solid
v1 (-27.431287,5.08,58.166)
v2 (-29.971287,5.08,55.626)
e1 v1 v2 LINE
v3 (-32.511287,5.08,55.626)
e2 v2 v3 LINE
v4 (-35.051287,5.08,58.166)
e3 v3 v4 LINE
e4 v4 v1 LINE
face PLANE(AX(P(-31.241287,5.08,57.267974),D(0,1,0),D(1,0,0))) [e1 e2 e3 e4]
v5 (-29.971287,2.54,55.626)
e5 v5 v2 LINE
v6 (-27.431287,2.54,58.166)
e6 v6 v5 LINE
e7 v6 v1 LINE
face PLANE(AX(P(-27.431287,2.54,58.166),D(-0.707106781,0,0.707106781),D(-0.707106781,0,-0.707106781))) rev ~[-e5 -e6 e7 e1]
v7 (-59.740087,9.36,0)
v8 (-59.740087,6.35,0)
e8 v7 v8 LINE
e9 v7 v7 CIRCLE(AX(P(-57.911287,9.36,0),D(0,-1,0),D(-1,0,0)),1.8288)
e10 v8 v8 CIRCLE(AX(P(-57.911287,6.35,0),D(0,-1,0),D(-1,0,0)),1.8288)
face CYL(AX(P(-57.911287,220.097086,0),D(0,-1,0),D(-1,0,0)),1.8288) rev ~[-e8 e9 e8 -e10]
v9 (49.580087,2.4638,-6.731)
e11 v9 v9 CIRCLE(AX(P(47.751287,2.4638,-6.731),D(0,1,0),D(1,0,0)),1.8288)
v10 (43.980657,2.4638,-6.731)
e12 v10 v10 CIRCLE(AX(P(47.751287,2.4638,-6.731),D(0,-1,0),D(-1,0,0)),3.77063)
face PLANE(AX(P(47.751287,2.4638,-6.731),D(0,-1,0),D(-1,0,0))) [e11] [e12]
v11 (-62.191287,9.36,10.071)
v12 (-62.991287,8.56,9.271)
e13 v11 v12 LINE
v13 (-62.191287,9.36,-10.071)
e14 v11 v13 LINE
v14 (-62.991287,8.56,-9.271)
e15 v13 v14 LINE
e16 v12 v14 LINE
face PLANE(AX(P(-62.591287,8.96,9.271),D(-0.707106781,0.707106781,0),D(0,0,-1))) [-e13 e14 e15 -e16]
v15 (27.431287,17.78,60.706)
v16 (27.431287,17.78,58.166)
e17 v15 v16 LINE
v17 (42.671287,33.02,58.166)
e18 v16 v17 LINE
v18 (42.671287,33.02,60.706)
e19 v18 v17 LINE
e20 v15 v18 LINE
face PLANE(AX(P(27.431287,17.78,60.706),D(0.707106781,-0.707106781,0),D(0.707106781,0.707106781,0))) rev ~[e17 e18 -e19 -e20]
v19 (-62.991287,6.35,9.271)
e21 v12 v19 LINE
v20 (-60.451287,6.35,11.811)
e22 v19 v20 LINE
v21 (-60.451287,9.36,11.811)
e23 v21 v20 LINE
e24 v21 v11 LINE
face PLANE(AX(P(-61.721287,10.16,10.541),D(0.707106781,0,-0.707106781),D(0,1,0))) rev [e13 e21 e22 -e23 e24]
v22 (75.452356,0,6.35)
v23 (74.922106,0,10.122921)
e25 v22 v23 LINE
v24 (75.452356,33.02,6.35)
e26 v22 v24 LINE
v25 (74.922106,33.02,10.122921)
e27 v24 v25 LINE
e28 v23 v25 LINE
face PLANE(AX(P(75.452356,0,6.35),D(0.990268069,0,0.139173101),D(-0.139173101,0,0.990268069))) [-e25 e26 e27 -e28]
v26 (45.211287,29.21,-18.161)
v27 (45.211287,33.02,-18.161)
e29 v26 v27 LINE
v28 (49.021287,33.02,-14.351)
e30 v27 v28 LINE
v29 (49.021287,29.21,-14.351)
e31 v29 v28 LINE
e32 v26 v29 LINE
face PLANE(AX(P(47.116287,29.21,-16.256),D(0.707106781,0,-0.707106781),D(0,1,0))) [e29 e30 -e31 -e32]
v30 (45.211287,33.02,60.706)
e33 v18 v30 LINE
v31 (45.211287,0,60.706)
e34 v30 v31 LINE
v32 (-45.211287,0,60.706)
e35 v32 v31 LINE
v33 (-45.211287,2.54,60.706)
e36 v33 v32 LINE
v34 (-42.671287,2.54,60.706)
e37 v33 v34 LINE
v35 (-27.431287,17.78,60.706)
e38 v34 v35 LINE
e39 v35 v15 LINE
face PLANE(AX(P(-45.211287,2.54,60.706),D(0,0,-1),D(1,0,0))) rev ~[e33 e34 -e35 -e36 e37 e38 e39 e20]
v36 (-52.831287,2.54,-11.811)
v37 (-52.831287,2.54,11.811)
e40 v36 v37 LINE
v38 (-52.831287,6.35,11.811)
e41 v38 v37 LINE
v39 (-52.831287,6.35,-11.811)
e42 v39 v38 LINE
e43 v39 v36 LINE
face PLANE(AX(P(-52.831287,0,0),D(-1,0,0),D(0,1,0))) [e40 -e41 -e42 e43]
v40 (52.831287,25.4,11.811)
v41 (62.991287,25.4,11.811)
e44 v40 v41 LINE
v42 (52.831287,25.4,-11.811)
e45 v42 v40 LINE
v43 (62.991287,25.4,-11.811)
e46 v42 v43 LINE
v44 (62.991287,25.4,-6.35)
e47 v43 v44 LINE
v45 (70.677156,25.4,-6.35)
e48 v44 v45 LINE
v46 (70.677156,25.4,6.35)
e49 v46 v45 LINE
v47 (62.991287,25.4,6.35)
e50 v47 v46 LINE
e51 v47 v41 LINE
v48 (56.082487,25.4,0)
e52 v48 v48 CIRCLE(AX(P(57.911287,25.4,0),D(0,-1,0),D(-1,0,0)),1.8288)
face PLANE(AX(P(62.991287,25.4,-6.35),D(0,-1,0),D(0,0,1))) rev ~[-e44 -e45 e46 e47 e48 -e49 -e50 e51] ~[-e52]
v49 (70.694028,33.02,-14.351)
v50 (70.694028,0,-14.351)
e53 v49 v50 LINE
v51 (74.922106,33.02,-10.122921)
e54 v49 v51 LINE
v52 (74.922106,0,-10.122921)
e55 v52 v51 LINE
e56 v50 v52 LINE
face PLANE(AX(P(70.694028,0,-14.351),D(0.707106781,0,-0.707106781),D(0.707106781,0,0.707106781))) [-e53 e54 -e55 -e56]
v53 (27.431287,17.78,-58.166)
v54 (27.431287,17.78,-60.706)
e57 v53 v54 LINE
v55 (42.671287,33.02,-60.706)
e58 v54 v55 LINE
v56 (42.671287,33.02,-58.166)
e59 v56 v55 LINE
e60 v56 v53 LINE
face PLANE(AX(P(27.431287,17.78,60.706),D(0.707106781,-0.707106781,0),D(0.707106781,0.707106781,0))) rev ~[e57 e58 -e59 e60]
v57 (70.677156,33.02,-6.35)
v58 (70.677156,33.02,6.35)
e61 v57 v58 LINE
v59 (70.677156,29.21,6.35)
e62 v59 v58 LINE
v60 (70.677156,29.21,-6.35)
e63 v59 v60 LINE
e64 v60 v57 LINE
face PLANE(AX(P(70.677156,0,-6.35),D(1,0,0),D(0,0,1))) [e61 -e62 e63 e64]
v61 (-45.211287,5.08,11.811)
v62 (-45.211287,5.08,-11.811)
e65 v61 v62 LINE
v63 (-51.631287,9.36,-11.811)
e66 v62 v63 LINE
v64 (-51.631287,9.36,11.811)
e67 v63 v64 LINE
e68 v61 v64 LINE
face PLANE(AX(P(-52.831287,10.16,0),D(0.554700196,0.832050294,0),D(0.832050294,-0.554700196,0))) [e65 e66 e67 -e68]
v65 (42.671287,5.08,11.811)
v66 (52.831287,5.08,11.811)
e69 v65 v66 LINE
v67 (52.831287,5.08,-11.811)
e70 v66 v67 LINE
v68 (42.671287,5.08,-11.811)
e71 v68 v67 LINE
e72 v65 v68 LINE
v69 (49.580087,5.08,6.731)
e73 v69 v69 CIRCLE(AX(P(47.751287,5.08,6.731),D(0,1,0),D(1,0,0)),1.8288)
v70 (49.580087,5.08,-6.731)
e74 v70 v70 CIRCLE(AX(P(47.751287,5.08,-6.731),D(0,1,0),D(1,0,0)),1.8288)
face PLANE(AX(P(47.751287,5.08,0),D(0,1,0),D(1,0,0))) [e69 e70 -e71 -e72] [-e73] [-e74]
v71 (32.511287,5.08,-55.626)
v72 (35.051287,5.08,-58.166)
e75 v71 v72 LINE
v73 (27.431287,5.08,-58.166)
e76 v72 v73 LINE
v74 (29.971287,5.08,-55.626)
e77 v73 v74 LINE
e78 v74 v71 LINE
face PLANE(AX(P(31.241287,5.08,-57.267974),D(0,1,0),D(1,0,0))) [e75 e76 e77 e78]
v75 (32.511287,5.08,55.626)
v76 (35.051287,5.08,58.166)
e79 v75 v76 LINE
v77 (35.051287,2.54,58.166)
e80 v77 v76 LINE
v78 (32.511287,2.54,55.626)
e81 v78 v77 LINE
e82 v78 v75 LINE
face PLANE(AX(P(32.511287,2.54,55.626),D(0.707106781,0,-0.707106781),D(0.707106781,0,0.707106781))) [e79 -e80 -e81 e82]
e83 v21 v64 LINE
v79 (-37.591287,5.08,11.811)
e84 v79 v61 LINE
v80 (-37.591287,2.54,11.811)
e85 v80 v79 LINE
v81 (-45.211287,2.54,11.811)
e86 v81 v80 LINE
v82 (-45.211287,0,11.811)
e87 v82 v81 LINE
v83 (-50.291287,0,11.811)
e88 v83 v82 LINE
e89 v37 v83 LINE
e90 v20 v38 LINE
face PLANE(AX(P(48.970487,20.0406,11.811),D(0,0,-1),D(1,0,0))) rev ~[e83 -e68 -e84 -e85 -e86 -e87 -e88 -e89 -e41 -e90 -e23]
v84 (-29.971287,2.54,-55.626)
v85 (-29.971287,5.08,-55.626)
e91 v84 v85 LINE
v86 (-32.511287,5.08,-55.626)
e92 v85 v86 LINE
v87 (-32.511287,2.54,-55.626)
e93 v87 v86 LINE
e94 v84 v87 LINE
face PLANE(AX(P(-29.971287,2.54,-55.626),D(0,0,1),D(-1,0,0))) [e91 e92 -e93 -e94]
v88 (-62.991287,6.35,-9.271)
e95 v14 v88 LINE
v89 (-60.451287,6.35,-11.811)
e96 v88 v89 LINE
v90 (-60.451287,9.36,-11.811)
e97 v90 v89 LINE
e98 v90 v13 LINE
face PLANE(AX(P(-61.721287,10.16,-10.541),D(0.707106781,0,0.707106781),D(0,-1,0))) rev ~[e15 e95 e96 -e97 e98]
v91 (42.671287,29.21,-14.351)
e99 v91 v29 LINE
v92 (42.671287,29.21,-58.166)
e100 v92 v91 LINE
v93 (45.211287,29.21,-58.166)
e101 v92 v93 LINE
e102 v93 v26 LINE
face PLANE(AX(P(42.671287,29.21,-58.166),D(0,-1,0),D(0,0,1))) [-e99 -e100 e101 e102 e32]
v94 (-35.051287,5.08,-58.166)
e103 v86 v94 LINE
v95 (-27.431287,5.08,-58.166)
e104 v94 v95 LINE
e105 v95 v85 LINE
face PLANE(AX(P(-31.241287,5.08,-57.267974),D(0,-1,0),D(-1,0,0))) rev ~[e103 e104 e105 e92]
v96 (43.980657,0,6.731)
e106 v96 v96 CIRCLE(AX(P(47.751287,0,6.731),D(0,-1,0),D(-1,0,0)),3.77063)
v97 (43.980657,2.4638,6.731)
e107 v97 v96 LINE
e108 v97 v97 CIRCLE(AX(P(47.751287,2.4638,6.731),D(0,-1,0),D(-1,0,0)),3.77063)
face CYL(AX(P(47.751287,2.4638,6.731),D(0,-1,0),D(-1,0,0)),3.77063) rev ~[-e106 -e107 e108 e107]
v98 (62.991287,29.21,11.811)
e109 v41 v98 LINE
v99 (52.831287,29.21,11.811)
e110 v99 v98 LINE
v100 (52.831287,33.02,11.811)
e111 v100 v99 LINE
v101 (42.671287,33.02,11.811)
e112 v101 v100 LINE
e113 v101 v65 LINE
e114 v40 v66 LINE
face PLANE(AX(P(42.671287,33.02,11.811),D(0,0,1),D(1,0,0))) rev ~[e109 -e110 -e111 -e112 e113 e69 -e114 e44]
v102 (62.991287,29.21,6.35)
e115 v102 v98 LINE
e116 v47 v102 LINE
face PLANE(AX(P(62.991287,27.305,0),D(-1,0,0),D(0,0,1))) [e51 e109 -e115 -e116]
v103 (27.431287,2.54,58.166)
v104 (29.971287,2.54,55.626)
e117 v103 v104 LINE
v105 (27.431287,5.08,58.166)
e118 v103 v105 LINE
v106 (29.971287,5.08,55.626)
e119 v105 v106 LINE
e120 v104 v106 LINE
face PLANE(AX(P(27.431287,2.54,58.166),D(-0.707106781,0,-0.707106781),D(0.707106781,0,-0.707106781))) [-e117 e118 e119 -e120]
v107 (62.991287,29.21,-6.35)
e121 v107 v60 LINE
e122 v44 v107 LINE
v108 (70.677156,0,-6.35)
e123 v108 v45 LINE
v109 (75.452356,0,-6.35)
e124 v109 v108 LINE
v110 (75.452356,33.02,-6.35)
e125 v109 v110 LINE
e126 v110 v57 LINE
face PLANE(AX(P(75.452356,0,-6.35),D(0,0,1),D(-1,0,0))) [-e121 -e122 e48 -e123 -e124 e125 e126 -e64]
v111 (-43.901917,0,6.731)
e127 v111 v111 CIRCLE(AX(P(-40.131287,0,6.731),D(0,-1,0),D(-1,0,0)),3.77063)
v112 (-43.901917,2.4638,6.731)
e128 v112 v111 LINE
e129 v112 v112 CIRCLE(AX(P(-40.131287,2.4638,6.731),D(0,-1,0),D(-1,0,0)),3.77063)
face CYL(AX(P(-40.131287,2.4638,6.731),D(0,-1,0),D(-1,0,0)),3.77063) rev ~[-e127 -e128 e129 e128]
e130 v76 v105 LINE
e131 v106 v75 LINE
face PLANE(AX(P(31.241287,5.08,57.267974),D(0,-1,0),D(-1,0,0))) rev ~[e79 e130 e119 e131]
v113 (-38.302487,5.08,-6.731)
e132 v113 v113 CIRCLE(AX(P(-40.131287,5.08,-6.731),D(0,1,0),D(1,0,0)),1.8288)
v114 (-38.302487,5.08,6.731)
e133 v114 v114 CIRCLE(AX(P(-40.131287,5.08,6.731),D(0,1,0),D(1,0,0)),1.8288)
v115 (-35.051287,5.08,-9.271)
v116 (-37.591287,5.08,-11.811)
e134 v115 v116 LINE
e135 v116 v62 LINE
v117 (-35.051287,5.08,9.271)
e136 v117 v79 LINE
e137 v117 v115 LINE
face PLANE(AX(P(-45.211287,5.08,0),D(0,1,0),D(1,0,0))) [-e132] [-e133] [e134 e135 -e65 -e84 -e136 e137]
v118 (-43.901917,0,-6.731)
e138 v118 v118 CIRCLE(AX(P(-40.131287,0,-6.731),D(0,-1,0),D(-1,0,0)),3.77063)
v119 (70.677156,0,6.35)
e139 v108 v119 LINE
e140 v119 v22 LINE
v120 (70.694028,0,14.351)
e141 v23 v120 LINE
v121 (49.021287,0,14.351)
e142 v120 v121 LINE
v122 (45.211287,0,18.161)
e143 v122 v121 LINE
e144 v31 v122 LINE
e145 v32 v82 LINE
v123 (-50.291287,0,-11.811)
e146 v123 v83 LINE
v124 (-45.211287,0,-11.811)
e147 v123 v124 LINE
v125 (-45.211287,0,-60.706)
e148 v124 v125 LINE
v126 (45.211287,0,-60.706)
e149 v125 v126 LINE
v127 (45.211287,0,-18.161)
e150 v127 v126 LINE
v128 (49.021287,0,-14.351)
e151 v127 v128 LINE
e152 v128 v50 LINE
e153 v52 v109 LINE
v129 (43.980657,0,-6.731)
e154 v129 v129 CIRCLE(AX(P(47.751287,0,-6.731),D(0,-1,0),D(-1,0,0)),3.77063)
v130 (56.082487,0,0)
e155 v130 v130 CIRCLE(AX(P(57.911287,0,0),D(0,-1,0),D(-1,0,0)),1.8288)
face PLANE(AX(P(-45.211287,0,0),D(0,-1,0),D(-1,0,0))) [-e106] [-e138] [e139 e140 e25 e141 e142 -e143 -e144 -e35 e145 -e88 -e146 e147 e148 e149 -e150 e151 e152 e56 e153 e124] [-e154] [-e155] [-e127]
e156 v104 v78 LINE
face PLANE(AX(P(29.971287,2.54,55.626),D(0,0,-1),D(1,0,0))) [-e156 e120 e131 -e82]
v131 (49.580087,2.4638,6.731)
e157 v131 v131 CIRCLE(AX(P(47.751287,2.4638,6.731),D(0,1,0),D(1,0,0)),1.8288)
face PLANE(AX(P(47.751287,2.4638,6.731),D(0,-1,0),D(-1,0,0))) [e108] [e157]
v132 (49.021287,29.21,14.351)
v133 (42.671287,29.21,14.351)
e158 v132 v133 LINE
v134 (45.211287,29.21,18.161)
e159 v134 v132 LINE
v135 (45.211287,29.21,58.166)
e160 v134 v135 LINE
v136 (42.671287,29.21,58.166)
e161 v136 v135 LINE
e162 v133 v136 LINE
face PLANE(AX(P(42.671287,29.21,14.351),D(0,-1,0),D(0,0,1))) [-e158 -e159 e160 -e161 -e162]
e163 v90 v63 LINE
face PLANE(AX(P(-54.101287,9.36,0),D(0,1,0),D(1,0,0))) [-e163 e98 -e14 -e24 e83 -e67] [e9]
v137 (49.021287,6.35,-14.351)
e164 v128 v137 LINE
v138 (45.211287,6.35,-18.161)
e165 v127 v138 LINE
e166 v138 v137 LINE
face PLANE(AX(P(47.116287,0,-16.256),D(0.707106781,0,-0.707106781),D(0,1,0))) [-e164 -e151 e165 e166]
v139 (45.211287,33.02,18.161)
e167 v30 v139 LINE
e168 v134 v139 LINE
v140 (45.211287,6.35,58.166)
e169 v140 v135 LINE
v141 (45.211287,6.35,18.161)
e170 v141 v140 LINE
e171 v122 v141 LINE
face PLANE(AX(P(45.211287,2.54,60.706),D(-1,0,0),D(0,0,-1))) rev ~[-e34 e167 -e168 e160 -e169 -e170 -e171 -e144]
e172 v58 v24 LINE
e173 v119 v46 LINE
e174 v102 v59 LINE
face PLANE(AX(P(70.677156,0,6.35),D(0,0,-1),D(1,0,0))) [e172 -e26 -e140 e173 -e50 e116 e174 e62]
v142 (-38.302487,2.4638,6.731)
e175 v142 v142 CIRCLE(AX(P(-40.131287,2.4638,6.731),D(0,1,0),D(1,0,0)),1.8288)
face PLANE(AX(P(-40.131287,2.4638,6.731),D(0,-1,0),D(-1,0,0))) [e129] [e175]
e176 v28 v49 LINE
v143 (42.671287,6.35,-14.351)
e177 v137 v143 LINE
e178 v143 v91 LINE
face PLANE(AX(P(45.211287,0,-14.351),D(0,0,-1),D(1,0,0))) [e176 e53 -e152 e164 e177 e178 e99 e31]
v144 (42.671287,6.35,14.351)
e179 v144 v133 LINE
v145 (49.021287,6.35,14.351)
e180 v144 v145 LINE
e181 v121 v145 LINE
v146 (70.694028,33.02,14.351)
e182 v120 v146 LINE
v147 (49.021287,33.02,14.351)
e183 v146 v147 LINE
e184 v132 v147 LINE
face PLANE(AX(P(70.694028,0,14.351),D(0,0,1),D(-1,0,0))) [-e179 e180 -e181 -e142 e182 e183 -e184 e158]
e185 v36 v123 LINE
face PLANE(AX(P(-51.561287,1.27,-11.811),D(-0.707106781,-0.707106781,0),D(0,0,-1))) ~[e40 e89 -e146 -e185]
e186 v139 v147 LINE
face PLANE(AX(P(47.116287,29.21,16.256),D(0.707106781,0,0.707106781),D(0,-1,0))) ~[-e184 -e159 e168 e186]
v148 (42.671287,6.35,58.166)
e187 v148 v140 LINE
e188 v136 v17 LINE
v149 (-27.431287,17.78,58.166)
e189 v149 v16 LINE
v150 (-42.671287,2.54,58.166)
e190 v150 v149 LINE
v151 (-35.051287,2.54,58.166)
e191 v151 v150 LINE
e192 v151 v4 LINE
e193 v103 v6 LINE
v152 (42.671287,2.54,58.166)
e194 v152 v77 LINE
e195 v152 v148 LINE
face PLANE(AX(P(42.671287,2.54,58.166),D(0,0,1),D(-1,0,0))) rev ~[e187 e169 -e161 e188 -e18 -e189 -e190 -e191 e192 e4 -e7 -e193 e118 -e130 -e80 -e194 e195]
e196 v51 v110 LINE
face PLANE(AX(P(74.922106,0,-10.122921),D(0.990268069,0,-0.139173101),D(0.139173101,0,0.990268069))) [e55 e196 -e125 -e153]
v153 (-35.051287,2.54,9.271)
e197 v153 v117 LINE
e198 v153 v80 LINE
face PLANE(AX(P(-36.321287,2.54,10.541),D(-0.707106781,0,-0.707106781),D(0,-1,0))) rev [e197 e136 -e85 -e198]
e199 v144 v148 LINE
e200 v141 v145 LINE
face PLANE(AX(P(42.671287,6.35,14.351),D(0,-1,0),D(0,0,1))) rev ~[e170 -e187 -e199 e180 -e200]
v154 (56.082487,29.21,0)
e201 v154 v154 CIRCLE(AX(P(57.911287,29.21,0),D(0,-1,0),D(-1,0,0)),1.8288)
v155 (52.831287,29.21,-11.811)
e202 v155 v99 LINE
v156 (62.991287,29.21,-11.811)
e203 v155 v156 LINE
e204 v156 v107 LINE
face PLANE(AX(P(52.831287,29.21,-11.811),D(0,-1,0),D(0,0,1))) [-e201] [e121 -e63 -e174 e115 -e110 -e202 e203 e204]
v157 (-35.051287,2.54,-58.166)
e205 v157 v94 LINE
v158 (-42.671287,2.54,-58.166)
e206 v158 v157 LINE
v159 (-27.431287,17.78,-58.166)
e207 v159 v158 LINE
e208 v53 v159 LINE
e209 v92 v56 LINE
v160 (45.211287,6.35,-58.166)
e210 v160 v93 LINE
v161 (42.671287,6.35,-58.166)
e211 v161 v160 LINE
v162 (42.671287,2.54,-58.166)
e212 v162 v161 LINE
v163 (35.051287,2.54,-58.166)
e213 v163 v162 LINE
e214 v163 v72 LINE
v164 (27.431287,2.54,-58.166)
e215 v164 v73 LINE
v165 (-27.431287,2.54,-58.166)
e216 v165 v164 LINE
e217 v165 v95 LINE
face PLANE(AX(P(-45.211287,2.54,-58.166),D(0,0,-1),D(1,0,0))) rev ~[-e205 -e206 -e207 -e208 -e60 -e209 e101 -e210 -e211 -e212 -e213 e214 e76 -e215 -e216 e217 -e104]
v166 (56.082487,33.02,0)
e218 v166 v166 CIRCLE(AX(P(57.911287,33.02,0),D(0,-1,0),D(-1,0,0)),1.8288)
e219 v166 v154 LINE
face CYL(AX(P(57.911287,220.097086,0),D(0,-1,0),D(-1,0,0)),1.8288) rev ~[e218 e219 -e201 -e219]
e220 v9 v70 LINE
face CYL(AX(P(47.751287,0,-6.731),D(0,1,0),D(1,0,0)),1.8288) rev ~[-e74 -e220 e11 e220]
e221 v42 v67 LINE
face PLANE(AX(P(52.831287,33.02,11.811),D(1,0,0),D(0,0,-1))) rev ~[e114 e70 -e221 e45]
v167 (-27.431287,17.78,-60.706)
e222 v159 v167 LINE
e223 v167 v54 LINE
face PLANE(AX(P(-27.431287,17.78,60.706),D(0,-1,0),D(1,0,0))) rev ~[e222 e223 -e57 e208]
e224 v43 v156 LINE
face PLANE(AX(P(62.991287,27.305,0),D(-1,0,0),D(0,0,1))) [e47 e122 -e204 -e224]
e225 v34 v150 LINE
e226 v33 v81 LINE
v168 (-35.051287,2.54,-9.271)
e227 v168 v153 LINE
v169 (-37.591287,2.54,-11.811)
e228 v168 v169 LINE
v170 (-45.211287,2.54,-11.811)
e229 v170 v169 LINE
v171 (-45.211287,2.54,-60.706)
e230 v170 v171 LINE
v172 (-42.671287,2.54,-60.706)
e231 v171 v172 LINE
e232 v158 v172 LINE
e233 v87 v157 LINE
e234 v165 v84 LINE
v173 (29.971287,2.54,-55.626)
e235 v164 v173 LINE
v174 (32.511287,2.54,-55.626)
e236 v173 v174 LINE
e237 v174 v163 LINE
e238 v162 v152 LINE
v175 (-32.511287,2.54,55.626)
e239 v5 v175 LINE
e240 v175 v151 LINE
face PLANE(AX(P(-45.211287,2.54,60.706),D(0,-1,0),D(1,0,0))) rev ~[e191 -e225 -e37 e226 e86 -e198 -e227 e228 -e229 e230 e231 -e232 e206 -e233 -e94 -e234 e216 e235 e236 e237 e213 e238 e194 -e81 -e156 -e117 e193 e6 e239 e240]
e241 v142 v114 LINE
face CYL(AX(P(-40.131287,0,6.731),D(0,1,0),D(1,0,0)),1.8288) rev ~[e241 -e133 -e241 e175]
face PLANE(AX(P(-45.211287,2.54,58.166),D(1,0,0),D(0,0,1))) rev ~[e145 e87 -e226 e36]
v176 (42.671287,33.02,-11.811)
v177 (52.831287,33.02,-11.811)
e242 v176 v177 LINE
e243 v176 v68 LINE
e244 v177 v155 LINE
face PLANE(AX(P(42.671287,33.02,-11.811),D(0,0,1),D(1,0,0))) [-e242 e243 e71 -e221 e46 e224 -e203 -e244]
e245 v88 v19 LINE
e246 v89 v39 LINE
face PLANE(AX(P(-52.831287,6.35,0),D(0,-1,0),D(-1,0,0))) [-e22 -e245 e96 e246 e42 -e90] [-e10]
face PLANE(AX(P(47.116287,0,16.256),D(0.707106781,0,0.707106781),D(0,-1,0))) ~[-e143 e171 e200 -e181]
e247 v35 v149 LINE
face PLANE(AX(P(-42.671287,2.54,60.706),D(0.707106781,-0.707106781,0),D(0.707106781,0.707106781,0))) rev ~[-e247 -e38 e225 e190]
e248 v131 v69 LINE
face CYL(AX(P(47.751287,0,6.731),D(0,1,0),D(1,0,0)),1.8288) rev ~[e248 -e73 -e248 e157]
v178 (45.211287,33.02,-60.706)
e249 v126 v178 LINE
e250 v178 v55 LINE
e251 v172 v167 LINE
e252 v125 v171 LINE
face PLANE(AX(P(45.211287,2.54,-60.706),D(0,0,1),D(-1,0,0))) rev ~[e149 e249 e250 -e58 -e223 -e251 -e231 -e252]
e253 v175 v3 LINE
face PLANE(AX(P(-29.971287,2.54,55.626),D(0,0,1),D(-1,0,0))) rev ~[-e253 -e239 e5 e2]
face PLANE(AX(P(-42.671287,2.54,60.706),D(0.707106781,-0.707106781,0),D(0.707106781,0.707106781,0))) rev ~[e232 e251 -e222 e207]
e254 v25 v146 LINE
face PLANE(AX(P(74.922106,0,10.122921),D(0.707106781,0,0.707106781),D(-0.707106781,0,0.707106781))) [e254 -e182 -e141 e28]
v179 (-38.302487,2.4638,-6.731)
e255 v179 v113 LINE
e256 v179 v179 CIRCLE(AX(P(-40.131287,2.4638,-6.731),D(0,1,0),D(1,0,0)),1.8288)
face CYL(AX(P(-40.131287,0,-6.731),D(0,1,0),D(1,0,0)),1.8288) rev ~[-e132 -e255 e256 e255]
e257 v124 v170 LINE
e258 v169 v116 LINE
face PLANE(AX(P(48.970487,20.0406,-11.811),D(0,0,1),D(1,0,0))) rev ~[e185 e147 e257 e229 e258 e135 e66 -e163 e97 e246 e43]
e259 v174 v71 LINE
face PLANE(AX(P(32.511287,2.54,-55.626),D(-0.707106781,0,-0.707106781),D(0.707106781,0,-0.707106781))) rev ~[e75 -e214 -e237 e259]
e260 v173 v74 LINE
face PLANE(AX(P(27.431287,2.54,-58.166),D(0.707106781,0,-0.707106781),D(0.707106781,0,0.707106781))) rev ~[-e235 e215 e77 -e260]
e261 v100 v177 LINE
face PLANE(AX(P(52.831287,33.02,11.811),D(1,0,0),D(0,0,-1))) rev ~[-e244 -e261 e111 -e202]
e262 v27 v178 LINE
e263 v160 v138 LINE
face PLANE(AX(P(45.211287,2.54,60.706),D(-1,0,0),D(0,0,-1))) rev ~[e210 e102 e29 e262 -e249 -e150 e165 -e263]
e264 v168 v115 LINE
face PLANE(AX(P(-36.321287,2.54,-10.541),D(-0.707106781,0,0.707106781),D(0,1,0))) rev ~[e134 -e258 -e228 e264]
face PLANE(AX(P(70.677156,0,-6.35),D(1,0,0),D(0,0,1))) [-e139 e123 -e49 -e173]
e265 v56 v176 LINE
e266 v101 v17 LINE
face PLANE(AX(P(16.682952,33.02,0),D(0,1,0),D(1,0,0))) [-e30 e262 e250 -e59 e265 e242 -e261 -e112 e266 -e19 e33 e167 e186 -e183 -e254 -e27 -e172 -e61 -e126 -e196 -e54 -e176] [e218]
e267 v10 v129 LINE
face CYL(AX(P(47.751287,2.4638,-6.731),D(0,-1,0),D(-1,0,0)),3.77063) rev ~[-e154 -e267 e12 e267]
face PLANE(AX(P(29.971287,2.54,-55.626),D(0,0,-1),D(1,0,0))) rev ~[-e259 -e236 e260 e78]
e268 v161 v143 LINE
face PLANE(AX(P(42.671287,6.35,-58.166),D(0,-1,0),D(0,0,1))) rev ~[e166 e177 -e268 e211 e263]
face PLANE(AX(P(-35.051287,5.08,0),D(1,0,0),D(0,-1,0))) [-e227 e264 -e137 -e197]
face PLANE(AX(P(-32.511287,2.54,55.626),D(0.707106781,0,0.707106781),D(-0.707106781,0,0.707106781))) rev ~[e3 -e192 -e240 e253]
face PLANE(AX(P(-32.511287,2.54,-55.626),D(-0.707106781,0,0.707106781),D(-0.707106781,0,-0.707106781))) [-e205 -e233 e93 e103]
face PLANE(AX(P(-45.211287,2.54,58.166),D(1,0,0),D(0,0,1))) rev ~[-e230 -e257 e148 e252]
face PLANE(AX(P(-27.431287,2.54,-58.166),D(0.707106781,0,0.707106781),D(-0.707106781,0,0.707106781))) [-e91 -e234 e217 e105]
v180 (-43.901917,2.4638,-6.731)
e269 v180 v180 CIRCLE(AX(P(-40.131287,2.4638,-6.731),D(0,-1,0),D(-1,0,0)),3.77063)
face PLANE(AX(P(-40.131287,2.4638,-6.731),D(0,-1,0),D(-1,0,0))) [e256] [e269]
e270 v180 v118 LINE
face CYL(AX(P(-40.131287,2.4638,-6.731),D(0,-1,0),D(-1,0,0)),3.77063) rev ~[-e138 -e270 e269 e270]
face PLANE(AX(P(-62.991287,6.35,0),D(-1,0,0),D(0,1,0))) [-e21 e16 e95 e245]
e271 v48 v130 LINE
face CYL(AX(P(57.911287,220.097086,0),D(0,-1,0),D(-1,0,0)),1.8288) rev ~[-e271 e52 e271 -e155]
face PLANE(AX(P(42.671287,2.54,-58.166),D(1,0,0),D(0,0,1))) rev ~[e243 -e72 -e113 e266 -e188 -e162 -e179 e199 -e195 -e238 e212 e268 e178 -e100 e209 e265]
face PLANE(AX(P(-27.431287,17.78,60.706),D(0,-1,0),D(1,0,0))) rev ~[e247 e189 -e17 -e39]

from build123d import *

# Parameters (mm, degrees)
SKETCH3_W                                       = 90.422573022
SKETCH3_H                                       = 121.412
BOSS_EXTRUDE4_DEPTH                             = 2.54
BOSS_EXTRUDE5_DEPTH                             = 30.48
CUT_EXTRUDE2_DEPTH                              = 122.412
BOSS_EXTRUDE6_DEPTH                             = 33.02
SKETCH9_W                                       = 10.16
SKETCH9_H                                       = 23.622
CUT_EXTRUDE3_DEPTH                              = 27.94
BOSS_EXTRUDE7_DEPTH                             = 2.54
SKETCH12_W                                      = 23.622
SKETCH12_H                                      = 3.81
CUT_EXTRUDE4_DEPTH                              = 10.16
SKETCH13_W                                      = 12.7
SKETCH13_H                                      = 3.81
CUT_EXTRUDE5_DEPTH                              = 13.461069207
BOSS_EXTRUDE9_REACH                             = 62.706
BOSS_EXTRUDE9_DIRECTION_2_REACH                 = 62.706
CBORE_FOR_6_PAN_HEAD_MACHINE_SCREW1_D           = 3.6576
CBORE_FOR_6_PAN_HEAD_MACHINE_SCREW1_CBORE_D     = 7.54126
CBORE_FOR_6_PAN_HEAD_MACHINE_SCREW1_CBORE_DEPTH = 2.4638
F_6_CLEARANCE_HOLE1_D                           = 3.6576
SKETCH21_W                                      = 43.815
SKETCH21_H                                      = 22.86
CUT_EXTRUDE6_DEPTH                              = 33.781069207
CHAMFER1_SIZE                                   = 2.54
CHAMFER2_SIZE                                   = 3.81
SKETCH22_W                                      = 17.78
SKETCH22_H                                      = 23.622
CUT_EXTRUDE7_DEPTH                              = 0.8
CHAMFER3_SIZE                                   = 0.8


with BuildPart() as part:
    # Sketch3 → Boss-Extrude4 (new body)
    with BuildSketch(Plane(origin=(0, 0, 0), x_dir=(1, 0, 0), z_dir=(0, 1, 0))):
        Rectangle(SKETCH3_W, SKETCH3_H)
    extrude(amount=BOSS_EXTRUDE4_DEPTH)

    # Sketch6 → Boss-Extrude5 (add)
    with BuildSketch(Plane(origin=(0, 2.54, 0), x_dir=(1, 0, 0), z_dir=(0, 1, 0))):
        Polygon((45.211286511, -60.706), (45.211286511, 60.706), (-45.211286511, 60.706), (-45.211286511, 58.166), (42.671286511, 58.166), (42.671286511, -58.166), (-45.211286511, -58.166), (-45.211286511, -60.706), align=None)
    extrude(amount=BOSS_EXTRUDE5_DEPTH)

    # Sketch7 → Cut-Extrude2 (cut, through all)
    with BuildSketch(Plane.XY.offset(60.706)):
        Polygon((-42.671286511, 2.54), (-27.431286511, 17.78), (27.431286511, 17.78), (42.671286511, 33.02), (-45.211286511, 33.02), (-45.211286511, 2.54), align=None)
    extrude(amount=-CUT_EXTRUDE2_DEPTH, mode=Mode.SUBTRACT)

    # Sketch8 → Boss-Extrude6 (add)
    with BuildSketch(Plane(origin=(0, 0, 0), x_dir=(1, 0, 0), z_dir=(0, 1, 0))):
        Polygon((45.211286511, 14.351), (70.694027546, 14.351), (74.922106204, 10.122921342), (75.452355719, 6.35), (70.677155719, 6.35), (70.677155719, -6.35), (75.452355719, -6.35), (74.922106204, -10.122921342), (70.694027546, -14.351), (45.211286511, -14.351), align=None)
    extrude(amount=BOSS_EXTRUDE6_DEPTH)

    # Sketch9 → Cut-Extrude3 (cut)
    with BuildSketch(Plane(origin=(0, 33.02, 0), x_dir=(1, 0, 0), z_dir=(0, 1, 0))):
        with Locations((47.751286511, 0)):
            Rectangle(SKETCH9_W, SKETCH9_H)
    extrude(amount=-CUT_EXTRUDE3_DEPTH, mode=Mode.SUBTRACT)

    # Sketch11 → Boss-Extrude7 (add)
    with BuildSketch(Plane(origin=(0, 2.54, 0), x_dir=(1, 0, 0), z_dir=(0, 1, 0))):
        Polygon((35.051286511, 58.166), (27.431286511, 58.166), (29.971286511, 55.626), (32.511286511, 55.626), align=None)
        Polygon((-29.971286511, 55.626), (-32.511286511, 55.626), (-35.051286511, 58.166), (-27.431286511, 58.166), align=None)
        Polygon((29.971286511, -55.626), (32.511286511, -55.626), (35.051286511, -58.166), (27.431286511, -58.166), align=None)
        Polygon((-27.431286511, -58.166), (-29.971286511, -55.626), (-32.511286511, -55.626), (-35.051286511, -58.166), align=None)
    extrude(amount=BOSS_EXTRUDE7_DEPTH)

    # Sketch12 → Cut-Extrude4 (cut)
    with BuildSketch(Plane.ZY.offset(-52.831286511)):
        with Locations((0, 27.305)):
            Rectangle(SKETCH12_W, SKETCH12_H)
    extrude(amount=-CUT_EXTRUDE4_DEPTH, mode=Mode.SUBTRACT)

    # Sketch13 → Cut-Extrude5 (cut, through all)
    with BuildSketch(Plane.ZY.offset(-62.991286511)):
        with Locations((0, 27.305)):
            Rectangle(SKETCH13_W, SKETCH13_H)
    extrude(amount=-CUT_EXTRUDE5_DEPTH, mode=Mode.SUBTRACT)

    # Boss-Extrude9: up to this face of the body (flat: up to its plane)
    boss_extrude9_end = Plane(part.part.faces().sort_by_distance((48.970486511, 20.0406, -11.811))[0])
    # Sketch15 → Boss-Extrude9 (add, up to the picked face)
    with BuildSketch(Plane.XY, mode=Mode.PRIVATE) as boss_extrude9_sk1:
        Polygon((-62.991286511, 10.16), (-52.831286511, 10.16), (-45.211286511, 5.08), (-35.051286511, 5.08), (-35.051286511, 2.54), (-45.211286511, 2.54), (-45.211286511, 0), (-52.831286511, 0), (-52.831286511, 6.35), (-62.991286511, 6.35), align=None)
    boss_extrude9_tool1 = split(extrude(boss_extrude9_sk1.sketch, amount=-BOSS_EXTRUDE9_REACH, mode=Mode.PRIVATE), bisect_by=boss_extrude9_end, keep=Keep.BOTH, mode=Mode.PRIVATE)
    add(boss_extrude9_tool1.solids().sort_by_distance((-50.157602, 5.280526, 0))[0])

    # Boss-Extrude9 direction 2: up to this face of the body (flat: up to its plane)
    boss_extrude9_direction_2_end = Plane(part.part.faces().sort_by_distance((48.970486511, 20.0406, 11.811))[0])
    # Sketch15 → Boss-Extrude9 direction 2 (add, up to the picked face)
    with BuildSketch(Plane.XY, mode=Mode.PRIVATE) as boss_extrude9_direction_2_sk1:
        Polygon((-62.991286511, 10.16), (-52.831286511, 10.16), (-45.211286511, 5.08), (-35.051286511, 5.08), (-35.051286511, 2.54), (-45.211286511, 2.54), (-45.211286511, 0), (-52.831286511, 0), (-52.831286511, 6.35), (-62.991286511, 6.35), align=None)
    boss_extrude9_direction_2_tool1 = split(extrude(boss_extrude9_direction_2_sk1.sketch, amount=BOSS_EXTRUDE9_DIRECTION_2_REACH, mode=Mode.PRIVATE), bisect_by=boss_extrude9_direction_2_end, keep=Keep.BOTH, mode=Mode.PRIVATE)
    add(boss_extrude9_direction_2_tool1.solids().sort_by_distance((-50.157602, 5.280526, 0))[0])

    # CBORE for #6 Pan Head Machine Screw1 (through all)
    with Locations(Plane(origin=(0, 0, 0), x_dir=(-1, 0, 0), z_dir=(0, -1, 0))):
        with Locations((-47.751286511, 6.731), (-47.751286511, -6.731), (40.131286511, 6.731), (40.131286511, -6.731)):
            CounterBoreHole(CBORE_FOR_6_PAN_HEAD_MACHINE_SCREW1_D / 2, CBORE_FOR_6_PAN_HEAD_MACHINE_SCREW1_CBORE_D / 2, CBORE_FOR_6_PAN_HEAD_MACHINE_SCREW1_CBORE_DEPTH)

    # #6 Clearance Hole1 (through all)
    with Locations(Plane(origin=(0, 33.02, 0), x_dir=(1, 0, 0), z_dir=(0, 1, 0))):
        with Locations((-57.911286511, 0), (57.911286511, 0)):
            Hole(F_6_CLEARANCE_HOLE1_D / 2)

    # Sketch21 → Cut-Extrude6 (cut, through all)
    with BuildSketch(Plane.ZY.offset(-42.671286511)):
        with Locations((-36.2585, 17.78)):
            Rectangle(SKETCH21_W, SKETCH21_H)
        with Locations((36.2585, 17.78)):
            Rectangle(SKETCH21_W, SKETCH21_H)
    extrude(amount=-CUT_EXTRUDE6_DEPTH, mode=Mode.SUBTRACT)

    # Chamfer1
    chamfer1_edges = [part.edges().sort_by_distance(p)[0] for p in [
        (-52.831286511, 0, 0),
        (-35.051286511, 3.81, -11.811),
        (-62.991286511, 8.255, -11.811),
        (-62.991286511, 8.255, 11.811),
        (-35.051286511, 3.81, 11.811),
    ]]
    chamfer(chamfer1_edges, length=CHAMFER1_SIZE)

    # Chamfer2
    chamfer2_edges = [part.edges().sort_by_distance(p)[0] for p in [
        (45.211286511, 3.175, -14.351),
        (45.211286511, 3.175, 14.351),
        (45.211286511, 31.115, -14.351),
        (45.211286511, 31.115, 14.351),
    ]]
    chamfer(chamfer2_edges, length=CHAMFER2_SIZE)

    # Sketch22 → Cut-Extrude7 (cut)
    with BuildSketch(Plane(origin=(0, 10.16, 0), x_dir=(1, 0, 0), z_dir=(0, 1, 0))):
        with Locations((-54.101286511, 0)):
            Rectangle(SKETCH22_W, SKETCH22_H)
    extrude(amount=-CUT_EXTRUDE7_DEPTH, mode=Mode.SUBTRACT)

    # Chamfer3
    chamfer3_edges = [part.edges().sort_by_distance(p)[0] for p in [
        (-62.991286511, 9.36, 0),
    ]]
    chamfer(chamfer3_edges, length=CHAMFER3_SIZE)


solid = part.part
